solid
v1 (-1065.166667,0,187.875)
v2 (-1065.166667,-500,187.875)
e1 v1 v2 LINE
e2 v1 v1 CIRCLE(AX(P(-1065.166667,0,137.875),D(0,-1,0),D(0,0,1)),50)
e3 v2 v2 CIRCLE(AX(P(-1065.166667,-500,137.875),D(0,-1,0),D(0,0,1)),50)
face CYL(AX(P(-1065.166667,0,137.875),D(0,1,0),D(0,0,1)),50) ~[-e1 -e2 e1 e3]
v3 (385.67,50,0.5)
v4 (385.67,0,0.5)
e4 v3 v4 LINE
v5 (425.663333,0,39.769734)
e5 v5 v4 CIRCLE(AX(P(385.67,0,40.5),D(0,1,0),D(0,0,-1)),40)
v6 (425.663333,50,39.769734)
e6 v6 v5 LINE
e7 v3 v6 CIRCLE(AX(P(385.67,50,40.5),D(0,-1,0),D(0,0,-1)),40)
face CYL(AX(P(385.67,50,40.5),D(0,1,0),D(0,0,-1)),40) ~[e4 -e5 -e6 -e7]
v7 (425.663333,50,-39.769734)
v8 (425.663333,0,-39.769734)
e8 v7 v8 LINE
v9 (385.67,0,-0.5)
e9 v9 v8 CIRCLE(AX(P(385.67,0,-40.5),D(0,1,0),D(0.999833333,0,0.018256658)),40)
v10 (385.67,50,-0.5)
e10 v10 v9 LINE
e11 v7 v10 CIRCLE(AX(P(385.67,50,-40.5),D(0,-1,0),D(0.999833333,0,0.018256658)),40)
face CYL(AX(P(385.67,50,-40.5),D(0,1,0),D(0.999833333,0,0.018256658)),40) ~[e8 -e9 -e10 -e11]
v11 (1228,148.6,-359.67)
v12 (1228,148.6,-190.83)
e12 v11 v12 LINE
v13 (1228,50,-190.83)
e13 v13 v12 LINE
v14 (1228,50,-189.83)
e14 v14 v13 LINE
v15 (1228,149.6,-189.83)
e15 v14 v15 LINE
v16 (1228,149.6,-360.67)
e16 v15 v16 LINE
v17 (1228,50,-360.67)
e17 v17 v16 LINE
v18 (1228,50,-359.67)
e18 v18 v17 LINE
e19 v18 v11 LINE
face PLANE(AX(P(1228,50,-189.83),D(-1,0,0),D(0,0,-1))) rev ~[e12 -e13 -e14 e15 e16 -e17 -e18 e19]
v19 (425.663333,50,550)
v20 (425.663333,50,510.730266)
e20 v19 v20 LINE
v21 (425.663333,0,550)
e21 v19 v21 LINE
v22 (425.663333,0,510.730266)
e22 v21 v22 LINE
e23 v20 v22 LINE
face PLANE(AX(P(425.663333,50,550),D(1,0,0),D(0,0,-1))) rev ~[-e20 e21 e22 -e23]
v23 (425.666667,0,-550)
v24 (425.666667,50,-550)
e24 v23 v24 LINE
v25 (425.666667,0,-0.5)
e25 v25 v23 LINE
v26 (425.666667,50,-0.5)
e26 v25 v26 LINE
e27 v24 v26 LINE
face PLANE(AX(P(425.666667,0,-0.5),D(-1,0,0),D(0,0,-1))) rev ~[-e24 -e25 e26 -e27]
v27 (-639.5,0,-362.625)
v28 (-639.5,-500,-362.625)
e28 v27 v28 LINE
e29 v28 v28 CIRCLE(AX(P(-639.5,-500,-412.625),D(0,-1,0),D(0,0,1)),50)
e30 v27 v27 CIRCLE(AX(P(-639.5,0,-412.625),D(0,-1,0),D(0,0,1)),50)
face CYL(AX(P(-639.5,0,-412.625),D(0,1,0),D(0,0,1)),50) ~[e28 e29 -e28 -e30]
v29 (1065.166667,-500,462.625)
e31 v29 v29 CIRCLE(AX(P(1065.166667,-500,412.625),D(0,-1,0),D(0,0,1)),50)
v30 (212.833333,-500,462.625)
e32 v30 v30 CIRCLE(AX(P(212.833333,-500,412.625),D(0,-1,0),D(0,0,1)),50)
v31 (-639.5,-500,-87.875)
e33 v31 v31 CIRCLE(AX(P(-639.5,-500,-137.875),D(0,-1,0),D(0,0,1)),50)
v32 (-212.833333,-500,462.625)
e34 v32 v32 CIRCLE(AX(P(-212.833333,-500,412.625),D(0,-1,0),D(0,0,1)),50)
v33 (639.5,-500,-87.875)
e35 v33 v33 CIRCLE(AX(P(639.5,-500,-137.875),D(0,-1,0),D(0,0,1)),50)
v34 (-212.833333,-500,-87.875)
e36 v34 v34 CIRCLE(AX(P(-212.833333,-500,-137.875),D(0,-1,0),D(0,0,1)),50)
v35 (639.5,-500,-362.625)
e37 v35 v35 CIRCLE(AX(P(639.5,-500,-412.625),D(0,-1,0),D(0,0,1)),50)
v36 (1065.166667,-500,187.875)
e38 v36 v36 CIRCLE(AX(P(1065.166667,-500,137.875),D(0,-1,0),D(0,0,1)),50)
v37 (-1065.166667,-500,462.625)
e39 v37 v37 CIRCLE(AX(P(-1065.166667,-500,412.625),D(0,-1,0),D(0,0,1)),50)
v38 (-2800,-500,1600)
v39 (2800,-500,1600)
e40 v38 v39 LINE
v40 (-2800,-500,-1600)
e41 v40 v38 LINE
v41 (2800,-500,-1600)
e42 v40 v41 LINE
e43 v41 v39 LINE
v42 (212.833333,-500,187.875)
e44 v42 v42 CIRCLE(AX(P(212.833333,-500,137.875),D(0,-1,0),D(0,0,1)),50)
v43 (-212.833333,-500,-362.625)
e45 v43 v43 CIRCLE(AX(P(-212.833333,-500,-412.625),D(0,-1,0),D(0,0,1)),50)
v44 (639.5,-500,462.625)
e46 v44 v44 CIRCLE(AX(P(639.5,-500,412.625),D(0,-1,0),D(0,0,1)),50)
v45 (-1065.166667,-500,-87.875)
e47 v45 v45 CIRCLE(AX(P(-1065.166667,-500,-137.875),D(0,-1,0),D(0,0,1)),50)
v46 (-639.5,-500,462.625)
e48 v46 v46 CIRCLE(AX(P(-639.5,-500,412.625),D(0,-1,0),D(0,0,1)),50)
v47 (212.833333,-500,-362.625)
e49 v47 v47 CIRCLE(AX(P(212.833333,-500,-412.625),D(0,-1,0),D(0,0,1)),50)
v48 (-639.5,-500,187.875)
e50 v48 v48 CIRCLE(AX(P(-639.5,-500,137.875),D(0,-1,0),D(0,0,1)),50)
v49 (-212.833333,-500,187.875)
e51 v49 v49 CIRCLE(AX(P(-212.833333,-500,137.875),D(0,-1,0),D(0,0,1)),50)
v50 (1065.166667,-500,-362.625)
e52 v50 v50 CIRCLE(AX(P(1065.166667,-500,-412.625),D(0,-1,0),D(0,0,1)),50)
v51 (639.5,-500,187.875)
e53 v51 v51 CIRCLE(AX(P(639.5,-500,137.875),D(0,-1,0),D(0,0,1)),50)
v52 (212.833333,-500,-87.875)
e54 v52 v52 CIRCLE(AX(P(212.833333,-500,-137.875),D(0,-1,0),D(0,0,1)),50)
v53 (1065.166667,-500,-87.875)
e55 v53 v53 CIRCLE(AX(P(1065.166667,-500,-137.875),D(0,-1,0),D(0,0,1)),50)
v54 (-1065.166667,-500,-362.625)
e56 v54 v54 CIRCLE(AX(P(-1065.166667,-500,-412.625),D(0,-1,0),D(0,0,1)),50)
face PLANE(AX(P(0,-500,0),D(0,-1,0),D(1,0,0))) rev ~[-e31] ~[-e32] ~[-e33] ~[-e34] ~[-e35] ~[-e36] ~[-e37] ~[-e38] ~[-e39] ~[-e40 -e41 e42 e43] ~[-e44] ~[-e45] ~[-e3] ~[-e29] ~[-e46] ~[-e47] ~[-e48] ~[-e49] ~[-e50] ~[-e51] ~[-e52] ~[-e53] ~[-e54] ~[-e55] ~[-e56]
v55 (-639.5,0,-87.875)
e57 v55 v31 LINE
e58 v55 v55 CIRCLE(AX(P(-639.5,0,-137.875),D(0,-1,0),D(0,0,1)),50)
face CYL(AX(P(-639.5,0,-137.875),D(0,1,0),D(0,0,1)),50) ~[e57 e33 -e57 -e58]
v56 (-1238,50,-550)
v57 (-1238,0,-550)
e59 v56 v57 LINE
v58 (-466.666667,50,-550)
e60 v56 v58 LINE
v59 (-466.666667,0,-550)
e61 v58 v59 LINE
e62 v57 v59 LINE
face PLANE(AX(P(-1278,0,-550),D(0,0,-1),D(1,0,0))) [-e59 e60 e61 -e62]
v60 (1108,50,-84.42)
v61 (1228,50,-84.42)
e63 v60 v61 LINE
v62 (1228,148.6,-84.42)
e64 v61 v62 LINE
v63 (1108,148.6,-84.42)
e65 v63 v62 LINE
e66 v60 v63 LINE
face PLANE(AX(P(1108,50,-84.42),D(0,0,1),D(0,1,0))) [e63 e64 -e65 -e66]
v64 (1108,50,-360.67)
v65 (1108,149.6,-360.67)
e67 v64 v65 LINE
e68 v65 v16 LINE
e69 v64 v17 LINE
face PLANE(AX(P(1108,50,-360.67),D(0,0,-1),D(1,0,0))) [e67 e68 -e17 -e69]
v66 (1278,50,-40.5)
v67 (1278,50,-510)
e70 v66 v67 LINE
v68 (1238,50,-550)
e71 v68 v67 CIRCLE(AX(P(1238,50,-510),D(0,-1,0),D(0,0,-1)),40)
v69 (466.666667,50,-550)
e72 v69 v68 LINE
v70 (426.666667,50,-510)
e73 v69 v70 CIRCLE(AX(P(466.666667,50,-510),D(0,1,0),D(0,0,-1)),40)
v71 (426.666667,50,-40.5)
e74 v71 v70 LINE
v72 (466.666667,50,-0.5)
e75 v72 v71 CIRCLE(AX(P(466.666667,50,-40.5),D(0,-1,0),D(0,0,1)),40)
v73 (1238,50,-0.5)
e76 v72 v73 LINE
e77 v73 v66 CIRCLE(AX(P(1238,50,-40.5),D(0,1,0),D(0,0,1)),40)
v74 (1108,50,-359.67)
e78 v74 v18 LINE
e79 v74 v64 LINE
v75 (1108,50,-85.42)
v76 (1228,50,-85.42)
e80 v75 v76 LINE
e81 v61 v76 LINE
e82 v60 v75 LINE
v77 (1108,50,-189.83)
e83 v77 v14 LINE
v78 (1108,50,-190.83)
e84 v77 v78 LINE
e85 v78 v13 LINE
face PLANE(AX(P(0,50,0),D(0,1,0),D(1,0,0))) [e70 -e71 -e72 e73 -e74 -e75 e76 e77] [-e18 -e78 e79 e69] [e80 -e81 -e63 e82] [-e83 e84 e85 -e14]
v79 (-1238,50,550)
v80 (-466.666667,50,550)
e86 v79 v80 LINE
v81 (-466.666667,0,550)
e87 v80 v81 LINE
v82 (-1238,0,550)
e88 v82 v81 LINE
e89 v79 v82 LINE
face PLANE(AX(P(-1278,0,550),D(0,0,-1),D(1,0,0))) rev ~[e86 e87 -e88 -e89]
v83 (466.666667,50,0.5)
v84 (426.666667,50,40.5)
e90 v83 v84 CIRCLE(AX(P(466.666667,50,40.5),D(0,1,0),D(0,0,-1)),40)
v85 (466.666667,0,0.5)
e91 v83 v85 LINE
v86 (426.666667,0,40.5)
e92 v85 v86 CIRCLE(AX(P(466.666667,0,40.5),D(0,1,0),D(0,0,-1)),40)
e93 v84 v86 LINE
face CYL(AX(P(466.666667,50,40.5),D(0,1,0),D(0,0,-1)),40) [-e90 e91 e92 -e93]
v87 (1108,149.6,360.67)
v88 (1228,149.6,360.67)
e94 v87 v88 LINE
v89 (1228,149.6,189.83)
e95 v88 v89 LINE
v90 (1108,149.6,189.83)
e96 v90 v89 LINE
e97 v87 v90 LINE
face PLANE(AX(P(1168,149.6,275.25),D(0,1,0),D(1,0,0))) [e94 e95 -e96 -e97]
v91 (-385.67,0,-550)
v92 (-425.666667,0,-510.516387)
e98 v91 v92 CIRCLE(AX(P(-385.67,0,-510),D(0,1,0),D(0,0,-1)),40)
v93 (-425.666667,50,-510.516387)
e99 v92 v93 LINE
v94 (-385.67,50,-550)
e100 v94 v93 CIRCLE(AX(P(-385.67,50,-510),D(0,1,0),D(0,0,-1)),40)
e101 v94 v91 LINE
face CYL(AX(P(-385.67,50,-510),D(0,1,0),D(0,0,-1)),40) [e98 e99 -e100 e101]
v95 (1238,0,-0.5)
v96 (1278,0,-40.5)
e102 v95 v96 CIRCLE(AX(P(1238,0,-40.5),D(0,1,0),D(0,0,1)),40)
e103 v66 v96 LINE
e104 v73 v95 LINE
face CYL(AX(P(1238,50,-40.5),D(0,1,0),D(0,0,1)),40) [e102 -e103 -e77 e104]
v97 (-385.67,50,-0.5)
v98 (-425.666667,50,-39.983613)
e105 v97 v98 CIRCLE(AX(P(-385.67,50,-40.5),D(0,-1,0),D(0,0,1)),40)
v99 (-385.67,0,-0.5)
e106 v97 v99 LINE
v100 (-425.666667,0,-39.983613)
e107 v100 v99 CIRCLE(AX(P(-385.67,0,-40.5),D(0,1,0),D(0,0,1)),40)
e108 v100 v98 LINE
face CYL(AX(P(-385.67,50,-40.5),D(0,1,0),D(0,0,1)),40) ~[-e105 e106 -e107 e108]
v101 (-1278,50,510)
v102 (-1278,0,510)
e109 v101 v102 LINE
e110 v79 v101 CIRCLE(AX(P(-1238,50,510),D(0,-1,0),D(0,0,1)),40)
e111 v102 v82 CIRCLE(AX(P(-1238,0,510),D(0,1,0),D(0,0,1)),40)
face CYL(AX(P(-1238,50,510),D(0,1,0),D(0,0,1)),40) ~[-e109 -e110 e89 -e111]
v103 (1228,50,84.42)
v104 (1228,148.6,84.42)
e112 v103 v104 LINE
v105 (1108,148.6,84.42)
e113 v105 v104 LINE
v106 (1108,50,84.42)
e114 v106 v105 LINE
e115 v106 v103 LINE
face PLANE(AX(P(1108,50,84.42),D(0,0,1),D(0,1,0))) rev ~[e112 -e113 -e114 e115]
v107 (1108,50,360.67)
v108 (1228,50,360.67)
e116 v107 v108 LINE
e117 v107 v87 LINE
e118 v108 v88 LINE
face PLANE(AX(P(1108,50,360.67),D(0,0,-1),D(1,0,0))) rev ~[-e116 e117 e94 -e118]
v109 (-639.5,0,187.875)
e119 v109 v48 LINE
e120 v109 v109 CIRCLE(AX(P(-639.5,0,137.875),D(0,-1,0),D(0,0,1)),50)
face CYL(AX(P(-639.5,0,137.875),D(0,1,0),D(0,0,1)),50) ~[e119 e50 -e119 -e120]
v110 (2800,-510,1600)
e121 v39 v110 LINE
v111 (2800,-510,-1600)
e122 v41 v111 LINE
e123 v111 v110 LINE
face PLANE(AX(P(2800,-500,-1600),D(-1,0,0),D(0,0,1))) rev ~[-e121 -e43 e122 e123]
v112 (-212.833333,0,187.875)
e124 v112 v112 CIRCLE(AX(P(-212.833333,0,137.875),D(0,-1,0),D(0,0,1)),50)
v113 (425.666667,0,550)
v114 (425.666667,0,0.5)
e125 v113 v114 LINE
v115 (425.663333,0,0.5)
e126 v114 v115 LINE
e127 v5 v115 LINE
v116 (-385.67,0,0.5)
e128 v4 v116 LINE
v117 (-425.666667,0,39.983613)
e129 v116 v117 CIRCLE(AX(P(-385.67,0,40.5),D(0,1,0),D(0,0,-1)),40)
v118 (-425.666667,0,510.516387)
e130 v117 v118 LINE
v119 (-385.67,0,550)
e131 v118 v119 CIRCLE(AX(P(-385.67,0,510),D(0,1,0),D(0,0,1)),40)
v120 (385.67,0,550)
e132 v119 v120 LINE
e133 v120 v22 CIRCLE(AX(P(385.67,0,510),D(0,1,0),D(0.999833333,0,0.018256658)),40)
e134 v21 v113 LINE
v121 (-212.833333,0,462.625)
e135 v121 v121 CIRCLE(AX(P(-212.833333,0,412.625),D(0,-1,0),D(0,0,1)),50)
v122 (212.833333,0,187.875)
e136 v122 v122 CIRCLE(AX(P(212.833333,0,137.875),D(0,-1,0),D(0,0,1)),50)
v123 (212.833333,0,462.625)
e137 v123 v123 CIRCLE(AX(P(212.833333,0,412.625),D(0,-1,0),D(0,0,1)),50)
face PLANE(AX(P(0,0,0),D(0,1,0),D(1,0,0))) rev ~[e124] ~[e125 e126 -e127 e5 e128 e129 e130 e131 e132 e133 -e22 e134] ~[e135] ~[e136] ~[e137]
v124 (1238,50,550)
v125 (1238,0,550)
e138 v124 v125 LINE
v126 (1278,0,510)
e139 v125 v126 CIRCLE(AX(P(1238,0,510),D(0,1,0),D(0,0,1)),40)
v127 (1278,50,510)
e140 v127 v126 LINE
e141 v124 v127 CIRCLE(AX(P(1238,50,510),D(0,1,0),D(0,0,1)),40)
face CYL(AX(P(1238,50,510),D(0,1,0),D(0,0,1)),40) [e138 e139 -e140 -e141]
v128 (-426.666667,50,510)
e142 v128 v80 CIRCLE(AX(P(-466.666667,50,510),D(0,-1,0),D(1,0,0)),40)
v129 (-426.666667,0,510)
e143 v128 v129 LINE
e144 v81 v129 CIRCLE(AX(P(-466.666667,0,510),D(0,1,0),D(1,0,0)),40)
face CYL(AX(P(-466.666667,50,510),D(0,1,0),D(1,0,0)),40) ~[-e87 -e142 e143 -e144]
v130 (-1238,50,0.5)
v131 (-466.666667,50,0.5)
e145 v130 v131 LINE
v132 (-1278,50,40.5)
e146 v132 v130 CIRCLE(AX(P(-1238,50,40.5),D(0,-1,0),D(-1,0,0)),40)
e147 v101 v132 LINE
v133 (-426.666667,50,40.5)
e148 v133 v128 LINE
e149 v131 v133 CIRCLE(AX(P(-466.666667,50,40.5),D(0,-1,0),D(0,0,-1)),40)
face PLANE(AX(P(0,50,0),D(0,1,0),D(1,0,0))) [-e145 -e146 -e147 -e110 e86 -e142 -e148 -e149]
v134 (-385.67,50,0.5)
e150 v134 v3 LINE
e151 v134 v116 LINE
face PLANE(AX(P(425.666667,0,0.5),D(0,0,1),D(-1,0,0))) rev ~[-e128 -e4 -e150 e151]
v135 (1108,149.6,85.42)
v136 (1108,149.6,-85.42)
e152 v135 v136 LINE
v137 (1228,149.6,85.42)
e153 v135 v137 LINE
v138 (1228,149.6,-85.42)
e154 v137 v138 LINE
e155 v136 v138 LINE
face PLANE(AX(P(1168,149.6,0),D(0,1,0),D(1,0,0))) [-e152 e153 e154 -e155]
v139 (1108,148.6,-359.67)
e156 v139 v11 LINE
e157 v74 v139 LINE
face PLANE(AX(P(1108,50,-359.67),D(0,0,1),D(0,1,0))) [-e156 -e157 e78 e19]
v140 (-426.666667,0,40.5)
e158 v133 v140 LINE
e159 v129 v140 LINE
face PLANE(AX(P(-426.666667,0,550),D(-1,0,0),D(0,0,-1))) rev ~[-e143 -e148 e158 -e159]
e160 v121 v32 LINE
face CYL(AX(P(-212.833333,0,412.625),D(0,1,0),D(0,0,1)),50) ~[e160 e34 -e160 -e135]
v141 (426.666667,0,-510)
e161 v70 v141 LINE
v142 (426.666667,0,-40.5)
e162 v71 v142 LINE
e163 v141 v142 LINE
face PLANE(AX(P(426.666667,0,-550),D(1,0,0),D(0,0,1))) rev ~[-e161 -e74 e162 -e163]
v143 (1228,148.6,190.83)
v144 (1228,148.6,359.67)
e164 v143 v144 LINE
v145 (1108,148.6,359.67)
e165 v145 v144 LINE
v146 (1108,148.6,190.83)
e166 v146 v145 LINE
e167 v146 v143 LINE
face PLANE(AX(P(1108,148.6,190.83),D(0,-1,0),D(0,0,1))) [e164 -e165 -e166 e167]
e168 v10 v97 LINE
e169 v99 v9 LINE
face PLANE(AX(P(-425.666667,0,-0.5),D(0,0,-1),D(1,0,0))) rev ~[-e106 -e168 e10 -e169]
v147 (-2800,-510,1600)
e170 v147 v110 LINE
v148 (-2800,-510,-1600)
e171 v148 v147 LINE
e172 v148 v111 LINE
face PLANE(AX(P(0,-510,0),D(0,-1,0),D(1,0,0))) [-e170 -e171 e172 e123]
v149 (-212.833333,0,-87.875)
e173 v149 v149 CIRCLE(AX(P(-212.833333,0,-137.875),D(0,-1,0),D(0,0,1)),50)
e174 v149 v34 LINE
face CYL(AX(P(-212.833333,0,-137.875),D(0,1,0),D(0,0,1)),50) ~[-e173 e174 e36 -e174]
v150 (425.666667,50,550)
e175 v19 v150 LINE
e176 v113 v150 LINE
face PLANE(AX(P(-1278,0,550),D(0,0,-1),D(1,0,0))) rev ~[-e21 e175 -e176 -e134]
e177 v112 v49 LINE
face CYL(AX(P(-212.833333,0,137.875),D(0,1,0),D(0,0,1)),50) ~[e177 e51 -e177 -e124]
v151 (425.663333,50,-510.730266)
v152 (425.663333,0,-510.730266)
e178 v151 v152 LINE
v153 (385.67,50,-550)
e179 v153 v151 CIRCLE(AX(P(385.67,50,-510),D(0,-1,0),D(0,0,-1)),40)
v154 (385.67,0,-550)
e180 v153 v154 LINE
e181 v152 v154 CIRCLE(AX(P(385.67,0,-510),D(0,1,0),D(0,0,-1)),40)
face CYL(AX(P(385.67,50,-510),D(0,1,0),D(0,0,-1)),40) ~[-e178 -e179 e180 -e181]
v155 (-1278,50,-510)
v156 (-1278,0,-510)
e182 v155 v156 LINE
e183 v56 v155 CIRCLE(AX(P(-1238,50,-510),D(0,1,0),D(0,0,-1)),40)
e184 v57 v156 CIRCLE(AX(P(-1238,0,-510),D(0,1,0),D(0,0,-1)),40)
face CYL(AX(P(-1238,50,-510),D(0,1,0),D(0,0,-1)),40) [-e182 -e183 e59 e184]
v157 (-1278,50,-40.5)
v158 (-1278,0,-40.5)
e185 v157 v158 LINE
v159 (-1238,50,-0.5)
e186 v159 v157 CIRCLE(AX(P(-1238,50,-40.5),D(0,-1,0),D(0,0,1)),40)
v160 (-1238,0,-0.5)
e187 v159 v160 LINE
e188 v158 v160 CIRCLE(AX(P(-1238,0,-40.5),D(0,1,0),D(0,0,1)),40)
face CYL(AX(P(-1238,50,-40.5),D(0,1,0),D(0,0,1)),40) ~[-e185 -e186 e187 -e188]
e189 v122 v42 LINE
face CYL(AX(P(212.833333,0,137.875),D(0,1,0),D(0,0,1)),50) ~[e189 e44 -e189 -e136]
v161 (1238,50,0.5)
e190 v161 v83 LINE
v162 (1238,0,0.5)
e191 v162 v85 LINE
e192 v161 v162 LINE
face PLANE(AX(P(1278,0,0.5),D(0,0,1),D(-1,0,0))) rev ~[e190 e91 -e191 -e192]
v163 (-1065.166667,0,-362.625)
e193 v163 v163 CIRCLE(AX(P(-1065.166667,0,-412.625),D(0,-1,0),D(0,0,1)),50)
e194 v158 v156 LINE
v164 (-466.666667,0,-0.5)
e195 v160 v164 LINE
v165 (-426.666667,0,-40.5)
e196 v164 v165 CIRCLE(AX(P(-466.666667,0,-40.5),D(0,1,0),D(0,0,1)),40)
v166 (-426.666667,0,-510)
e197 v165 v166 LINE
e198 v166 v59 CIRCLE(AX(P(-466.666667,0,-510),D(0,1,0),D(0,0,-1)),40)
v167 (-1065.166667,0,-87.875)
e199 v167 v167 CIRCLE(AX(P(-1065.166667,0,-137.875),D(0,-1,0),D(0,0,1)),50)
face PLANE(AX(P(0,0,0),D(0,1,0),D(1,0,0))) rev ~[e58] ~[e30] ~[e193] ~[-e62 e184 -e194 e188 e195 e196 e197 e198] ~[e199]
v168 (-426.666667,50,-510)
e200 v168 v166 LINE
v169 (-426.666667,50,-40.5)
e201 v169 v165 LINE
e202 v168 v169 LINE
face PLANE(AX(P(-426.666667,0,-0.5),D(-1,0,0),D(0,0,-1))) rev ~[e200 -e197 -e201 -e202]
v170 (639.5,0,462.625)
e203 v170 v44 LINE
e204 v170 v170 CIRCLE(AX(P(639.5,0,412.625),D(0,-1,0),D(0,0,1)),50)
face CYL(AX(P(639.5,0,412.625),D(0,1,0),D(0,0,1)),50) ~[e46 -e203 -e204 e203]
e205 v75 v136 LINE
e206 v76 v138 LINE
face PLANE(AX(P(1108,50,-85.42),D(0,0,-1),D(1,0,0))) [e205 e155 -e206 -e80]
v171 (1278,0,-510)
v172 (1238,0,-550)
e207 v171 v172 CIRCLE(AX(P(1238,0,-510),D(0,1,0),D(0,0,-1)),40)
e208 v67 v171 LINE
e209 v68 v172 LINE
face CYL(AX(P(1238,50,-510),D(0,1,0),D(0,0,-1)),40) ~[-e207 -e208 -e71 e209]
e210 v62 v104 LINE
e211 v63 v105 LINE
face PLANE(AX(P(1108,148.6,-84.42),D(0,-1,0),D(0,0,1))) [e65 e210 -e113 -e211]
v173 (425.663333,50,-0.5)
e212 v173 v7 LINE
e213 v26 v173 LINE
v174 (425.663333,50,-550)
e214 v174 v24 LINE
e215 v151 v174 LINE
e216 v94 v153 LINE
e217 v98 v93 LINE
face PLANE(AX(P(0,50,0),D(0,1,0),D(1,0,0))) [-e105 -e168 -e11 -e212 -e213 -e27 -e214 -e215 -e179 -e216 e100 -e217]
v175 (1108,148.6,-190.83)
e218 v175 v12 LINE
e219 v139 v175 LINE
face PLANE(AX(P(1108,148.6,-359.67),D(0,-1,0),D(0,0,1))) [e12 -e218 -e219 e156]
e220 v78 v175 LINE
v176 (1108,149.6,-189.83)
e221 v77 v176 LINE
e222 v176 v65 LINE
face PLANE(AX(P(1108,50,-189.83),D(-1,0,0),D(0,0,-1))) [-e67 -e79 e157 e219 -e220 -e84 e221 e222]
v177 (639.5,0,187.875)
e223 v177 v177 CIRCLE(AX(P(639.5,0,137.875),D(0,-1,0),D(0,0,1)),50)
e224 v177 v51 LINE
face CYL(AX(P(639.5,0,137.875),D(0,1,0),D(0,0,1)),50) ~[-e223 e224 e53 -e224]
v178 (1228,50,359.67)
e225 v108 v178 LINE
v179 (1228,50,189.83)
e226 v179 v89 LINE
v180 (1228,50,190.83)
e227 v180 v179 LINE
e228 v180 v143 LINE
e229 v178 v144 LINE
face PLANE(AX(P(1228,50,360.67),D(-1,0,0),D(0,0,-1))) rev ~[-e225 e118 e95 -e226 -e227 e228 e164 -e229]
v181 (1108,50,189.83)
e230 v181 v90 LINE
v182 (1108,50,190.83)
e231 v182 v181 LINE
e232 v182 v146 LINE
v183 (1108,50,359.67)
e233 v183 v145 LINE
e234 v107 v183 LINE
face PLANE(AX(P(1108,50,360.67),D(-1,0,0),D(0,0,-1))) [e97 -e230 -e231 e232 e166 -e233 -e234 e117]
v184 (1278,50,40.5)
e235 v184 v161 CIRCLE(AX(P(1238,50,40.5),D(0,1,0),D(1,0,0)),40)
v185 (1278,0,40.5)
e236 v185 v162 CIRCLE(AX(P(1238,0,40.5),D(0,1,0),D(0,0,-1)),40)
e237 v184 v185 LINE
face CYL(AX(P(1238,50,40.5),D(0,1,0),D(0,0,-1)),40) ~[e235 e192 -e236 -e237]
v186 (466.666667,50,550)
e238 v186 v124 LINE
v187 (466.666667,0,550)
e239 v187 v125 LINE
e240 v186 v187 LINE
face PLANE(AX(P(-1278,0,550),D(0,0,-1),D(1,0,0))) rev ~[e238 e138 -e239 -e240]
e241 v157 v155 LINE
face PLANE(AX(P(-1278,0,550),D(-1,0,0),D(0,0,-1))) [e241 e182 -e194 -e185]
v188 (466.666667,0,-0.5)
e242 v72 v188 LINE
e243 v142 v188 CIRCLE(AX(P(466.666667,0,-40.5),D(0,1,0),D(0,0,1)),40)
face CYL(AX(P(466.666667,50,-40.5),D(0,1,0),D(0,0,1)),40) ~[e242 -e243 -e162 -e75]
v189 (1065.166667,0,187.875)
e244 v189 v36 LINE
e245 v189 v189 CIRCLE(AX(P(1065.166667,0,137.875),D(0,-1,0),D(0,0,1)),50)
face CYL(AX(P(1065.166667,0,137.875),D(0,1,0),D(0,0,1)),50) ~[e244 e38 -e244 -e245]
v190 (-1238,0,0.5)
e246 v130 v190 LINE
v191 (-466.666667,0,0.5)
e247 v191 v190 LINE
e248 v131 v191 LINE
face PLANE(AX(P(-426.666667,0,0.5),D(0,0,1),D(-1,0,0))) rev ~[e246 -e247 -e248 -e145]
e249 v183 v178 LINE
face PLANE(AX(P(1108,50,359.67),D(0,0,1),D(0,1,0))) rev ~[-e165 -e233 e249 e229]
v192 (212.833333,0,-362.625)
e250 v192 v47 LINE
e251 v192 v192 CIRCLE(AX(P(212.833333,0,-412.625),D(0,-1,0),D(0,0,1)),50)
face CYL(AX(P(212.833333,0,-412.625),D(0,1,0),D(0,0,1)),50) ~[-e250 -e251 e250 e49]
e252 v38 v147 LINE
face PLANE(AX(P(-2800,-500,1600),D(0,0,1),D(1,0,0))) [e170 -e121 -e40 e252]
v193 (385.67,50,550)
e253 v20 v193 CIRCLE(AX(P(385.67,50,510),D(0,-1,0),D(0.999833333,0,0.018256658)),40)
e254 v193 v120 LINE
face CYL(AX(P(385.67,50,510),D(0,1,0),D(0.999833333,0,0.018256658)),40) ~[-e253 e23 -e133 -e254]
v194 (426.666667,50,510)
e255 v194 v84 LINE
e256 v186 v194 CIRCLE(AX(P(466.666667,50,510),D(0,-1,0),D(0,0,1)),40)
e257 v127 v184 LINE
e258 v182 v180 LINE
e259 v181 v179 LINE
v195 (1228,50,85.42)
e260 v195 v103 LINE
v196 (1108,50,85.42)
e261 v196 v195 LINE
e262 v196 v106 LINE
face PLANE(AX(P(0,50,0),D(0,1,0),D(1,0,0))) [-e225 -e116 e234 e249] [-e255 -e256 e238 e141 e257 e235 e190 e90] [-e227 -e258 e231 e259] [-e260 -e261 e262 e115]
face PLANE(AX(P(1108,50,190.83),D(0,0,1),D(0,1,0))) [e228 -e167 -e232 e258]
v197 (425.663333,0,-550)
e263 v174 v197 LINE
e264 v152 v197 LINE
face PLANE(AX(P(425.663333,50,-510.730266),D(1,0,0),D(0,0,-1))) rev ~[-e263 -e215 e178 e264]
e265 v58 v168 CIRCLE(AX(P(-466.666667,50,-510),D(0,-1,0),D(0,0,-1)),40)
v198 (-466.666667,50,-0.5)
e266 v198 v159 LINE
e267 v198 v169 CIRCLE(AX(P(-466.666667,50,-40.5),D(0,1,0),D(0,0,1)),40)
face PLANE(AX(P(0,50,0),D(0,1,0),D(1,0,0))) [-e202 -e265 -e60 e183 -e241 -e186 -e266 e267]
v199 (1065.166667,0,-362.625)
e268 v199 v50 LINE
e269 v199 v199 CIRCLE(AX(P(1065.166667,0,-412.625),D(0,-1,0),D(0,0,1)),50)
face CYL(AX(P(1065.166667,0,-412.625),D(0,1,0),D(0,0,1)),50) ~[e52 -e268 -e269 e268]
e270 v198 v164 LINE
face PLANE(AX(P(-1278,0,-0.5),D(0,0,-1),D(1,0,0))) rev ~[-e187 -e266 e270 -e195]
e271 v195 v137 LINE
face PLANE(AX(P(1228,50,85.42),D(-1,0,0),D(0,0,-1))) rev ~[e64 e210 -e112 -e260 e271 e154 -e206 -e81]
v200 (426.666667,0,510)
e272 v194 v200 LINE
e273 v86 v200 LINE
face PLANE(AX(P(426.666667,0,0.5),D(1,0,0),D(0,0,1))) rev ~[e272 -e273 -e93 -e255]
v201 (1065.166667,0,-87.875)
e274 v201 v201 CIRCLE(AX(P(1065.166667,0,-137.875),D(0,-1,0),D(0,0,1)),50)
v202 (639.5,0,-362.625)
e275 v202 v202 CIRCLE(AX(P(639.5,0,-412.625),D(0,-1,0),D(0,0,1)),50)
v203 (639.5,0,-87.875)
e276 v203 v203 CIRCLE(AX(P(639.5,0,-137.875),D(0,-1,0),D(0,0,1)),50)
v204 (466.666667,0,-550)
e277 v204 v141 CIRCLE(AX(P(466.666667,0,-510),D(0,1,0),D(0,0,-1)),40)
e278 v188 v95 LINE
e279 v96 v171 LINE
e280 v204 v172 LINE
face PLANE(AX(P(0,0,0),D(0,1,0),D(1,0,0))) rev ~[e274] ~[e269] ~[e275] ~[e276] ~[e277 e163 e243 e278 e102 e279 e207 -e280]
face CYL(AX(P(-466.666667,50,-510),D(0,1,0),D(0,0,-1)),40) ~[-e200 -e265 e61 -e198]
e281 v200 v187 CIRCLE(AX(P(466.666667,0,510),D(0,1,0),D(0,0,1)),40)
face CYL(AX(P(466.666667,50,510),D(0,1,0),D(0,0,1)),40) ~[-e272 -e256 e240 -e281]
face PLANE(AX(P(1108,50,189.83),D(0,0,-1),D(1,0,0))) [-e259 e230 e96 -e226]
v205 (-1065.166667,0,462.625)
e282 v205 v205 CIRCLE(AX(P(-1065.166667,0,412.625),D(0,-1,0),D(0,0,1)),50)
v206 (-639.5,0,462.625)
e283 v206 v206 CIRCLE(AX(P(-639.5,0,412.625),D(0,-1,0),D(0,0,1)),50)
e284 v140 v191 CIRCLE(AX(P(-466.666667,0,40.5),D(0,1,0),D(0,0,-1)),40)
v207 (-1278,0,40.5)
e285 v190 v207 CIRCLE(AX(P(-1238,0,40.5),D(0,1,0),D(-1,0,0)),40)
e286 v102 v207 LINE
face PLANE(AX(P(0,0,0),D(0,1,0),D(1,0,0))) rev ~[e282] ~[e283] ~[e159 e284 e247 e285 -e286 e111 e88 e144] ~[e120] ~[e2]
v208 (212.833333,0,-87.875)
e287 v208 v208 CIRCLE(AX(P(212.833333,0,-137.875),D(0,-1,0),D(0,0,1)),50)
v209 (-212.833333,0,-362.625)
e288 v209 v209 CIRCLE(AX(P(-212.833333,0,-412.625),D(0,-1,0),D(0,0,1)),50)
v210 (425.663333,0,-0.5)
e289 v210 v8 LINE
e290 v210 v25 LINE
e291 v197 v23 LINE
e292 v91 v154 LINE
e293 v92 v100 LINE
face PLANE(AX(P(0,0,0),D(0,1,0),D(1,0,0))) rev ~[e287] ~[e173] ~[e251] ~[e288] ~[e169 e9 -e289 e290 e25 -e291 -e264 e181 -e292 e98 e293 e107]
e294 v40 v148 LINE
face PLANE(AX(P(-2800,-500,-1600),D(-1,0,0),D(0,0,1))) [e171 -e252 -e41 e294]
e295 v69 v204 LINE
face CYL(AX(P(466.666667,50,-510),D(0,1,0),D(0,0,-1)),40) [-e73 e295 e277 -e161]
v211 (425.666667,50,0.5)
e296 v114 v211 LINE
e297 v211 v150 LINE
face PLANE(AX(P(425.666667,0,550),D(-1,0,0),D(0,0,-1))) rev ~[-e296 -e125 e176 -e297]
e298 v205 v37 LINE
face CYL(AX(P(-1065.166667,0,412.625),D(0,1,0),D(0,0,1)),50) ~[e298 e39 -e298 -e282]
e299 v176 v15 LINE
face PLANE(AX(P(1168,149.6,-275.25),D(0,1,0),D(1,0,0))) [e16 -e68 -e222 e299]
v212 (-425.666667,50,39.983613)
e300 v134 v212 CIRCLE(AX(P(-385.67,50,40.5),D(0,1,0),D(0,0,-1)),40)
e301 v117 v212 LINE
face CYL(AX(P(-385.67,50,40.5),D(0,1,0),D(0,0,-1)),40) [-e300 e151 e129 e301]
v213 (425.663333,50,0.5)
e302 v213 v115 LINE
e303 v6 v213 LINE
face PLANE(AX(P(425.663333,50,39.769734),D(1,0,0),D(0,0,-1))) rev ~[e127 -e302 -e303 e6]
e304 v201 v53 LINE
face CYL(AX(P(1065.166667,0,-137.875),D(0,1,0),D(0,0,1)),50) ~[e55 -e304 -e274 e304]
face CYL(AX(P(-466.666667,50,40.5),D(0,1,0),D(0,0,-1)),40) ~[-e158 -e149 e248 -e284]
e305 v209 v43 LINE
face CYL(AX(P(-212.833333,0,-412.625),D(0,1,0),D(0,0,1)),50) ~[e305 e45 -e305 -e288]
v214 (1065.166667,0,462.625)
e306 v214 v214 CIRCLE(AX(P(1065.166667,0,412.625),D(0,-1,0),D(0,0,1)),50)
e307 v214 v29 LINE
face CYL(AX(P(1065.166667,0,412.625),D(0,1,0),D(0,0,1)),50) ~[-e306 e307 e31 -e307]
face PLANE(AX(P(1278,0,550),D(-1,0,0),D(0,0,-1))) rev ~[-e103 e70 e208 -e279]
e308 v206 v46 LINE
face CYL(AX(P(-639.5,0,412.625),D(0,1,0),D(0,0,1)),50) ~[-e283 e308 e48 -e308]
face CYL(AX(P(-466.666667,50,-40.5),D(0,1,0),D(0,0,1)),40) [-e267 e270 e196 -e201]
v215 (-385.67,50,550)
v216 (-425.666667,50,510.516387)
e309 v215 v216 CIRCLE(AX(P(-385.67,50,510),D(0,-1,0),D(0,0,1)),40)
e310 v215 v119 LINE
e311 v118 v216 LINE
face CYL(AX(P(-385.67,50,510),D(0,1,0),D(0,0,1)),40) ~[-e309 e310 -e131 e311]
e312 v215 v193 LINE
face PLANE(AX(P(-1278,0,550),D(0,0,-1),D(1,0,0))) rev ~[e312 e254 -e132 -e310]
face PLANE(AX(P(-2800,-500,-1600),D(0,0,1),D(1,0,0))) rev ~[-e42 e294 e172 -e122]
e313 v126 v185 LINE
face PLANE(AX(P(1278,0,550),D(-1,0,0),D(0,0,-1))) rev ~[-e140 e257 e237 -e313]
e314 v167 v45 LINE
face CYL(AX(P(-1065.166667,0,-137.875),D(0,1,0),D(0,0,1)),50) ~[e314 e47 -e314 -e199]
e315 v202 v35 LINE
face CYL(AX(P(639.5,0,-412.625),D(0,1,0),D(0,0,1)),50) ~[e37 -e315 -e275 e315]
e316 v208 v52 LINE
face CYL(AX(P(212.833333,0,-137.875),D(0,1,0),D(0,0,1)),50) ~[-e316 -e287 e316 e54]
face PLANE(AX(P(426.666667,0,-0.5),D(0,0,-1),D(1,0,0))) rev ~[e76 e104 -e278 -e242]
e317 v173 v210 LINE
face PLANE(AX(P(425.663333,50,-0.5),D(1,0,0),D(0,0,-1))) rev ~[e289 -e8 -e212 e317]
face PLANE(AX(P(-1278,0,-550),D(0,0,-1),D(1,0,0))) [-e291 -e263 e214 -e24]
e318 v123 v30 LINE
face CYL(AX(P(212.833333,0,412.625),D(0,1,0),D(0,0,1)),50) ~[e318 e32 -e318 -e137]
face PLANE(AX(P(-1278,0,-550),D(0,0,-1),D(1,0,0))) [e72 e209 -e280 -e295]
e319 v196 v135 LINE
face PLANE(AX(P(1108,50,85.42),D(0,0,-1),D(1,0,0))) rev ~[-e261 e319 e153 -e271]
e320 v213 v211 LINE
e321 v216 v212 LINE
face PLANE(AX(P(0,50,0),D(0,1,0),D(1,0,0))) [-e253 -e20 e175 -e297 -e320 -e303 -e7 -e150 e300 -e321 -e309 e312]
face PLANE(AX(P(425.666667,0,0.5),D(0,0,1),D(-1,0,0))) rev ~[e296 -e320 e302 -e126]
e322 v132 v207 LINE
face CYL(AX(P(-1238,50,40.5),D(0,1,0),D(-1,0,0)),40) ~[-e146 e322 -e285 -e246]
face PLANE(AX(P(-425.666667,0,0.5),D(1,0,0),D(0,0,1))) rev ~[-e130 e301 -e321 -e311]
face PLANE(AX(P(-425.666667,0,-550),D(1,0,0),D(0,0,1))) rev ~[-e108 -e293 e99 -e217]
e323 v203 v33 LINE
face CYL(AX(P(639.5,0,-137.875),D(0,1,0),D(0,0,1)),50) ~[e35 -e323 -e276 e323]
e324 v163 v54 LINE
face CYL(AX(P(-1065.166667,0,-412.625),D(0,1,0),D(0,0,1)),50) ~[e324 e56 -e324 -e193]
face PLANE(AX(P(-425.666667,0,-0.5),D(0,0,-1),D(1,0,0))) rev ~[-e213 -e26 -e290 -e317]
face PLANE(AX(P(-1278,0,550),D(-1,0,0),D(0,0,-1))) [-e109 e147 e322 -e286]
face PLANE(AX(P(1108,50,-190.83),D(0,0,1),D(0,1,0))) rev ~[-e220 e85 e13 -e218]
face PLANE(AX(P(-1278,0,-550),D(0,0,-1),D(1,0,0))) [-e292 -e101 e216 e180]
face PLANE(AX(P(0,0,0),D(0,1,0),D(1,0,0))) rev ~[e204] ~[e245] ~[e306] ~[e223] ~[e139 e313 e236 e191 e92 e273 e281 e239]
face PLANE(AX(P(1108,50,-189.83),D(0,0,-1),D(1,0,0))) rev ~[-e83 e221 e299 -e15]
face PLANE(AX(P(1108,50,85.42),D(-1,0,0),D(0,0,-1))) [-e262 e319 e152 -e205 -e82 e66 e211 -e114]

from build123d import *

# Parameters (mm, degrees)
SKETCH_1_W          = 2556
SKETCH_1_H          = 1100
EXTRUDE_1_DEPTH     = 50
CUT_EXTRUDE_1_DEPTH = 1393.222683338
SKETCH_3_R          = 50
EXTRUDE_2_DEPTH     = 500
CUT_EXTRUDE_3_DEPTH = 1497.089569511
SKETCH_5_W          = 5600
SKETCH_5_H          = 3200
EXTRUDE_3_DEPTH     = 10
SKETCH_6_W          = 120
SKETCH_6_H          = 170.84
EXTRUDE_4_DEPTH     = 99.6
SKETCH_7_W          = 168.84
SKETCH_7_H          = 98.6
CUT_EXTRUDE_4_DEPTH = 139.6


with BuildPart() as part:
    # 스케치1 → 보스-돌출1 (new body)
    with BuildSketch(Plane(origin=(0, 0, 0), x_dir=(1, 0, 0), z_dir=(0, 1, 0))):
        Rectangle(SKETCH_1_W, SKETCH_1_H)
    extrude(amount=EXTRUDE_1_DEPTH)

    # 스케치2 → 컷-돌출1 (cut, through all)
    with BuildSketch(Plane.XZ):
        Polygon((-426.666666667, 550), (-426.666666667, 0.5), (-1278, 0.5), (-1278, -0.5), (-426.666666667, -0.5), (-426.666666667, -550), (-425.666666667, -550), (-425.666666667, -0.5), (425.666666667, -0.5), (425.666666667, -550), (426.666666667, -550), (426.666666667, -0.5), (1278, -0.5), (1278, 0.5), (426.666666667, 0.5), (426.666666667, 550), (425.666666667, 550), (425.666666667, 0.5), (-425.666666667, 0.5), (-425.666666667, 550), align=None)
    extrude(amount=-CUT_EXTRUDE_1_DEPTH, mode=Mode.SUBTRACT)


with BuildPart() as cut_extrude_1_piece_1:
    # of the separate pieces the step leaves, piece 1, a body of its own (cut_extrude_1_pieces)
    add(part.part.solids().sort_by_distance((-1278, 0, -550))[0])



with BuildPart() as cut_extrude_1_piece_2:
    # of the separate pieces the step leaves, piece 2, a body of its own (cut_extrude_1_pieces)
    add(part.part.solids().sort_by_distance((-425.666666667, 0, -550))[0])


with BuildPart() as cut_extrude_1_piece_3:
    # of the separate pieces the step leaves, piece 3, a body of its own (cut_extrude_1_pieces)
    add(part.part.solids().sort_by_distance((-1278, 0, 550))[0])


with BuildPart() as cut_extrude_1_piece_4:
    # of the separate pieces the step leaves, piece 4, a body of its own (cut_extrude_1_pieces)
    add(part.part.solids().sort_by_distance((425.666666667, 0, 550))[0])


with BuildPart() as cut_extrude_1_piece_5:
    # of the separate pieces the step leaves, piece 5, a body of its own (cut_extrude_1_pieces)
    add(part.part.solids().sort_by_distance((426.666666667, 0, -550))[0])


with BuildPart() as cut_extrude_1_piece_6:
    # of the separate pieces the step leaves, piece 6, a body of its own (cut_extrude_1_pieces)
    add(part.part.solids().sort_by_distance((1278, 0, 0.5))[0])


with BuildPart() as cut_extrude_1_piece_1_1:
    add(cut_extrude_1_piece_1.part)

    add(cut_extrude_1_piece_2.part)  # 보스-돌출2 merges 컷-돌출1 piece 2

    add(cut_extrude_1_piece_3.part)  # 보스-돌출2 merges 컷-돌출1 piece 3

    add(cut_extrude_1_piece_4.part)  # 보스-돌출2 merges 컷-돌출1 piece 4

    add(cut_extrude_1_piece_5.part)  # 보스-돌출2 merges 컷-돌출1 piece 5

    add(cut_extrude_1_piece_6.part)  # 보스-돌출2 merges 컷-돌출1 piece 6
    # 스케치3 → 보스-돌출2 (add)
    with BuildSketch(Plane.XZ):
        with Locations(Location((-1065.166666667, -137.875, 0), (0, 0, 90))):
            Circle(SKETCH_3_R)
        with Locations(Location((-639.5, -137.875, 0), (0, 0, 90))):
            Circle(SKETCH_3_R)
        with Locations(Location((-639.5, -412.625, 0), (0, 0, 90))):
            Circle(SKETCH_3_R)
        with Locations(Location((-1065.166666667, -412.625, 0), (0, 0, 90))):
            Circle(SKETCH_3_R)
        with Locations(Location((-212.833333333, -137.875, 0), (0, 0, 90))):
            Circle(SKETCH_3_R)
        with Locations(Location((212.833333333, -137.875, 0), (0, 0, 90))):
            Circle(SKETCH_3_R)
        with Locations(Location((-212.833333333, -412.625, 0), (0, 0, 90))):
            Circle(SKETCH_3_R)
        with Locations(Location((212.833333333, -412.625, 0), (0, 0, 90))):
            Circle(SKETCH_3_R)
        with Locations(Location((639.5, -137.875, 0), (0, 0, 90))):
            Circle(SKETCH_3_R)
        with Locations(Location((1065.166666667, -137.875, 0), (0, 0, 90))):
            Circle(SKETCH_3_R)
        with Locations(Location((639.5, -412.625, 0), (0, 0, 90))):
            Circle(SKETCH_3_R)
        with Locations(Location((1065.166666667, -412.625, 0), (0, 0, 90))):
            Circle(SKETCH_3_R)
        with Locations(Location((-212.833333333, 412.625, 0), (0, 0, 90))):
            Circle(SKETCH_3_R)
        with Locations(Location((212.833333333, 412.625, 0), (0, 0, 90))):
            Circle(SKETCH_3_R)
        with Locations(Location((-212.833333333, 137.875, 0), (0, 0, 90))):
            Circle(SKETCH_3_R)
        with Locations(Location((212.833333333, 137.875, 0), (0, 0, 90))):
            Circle(SKETCH_3_R)
        with Locations(Location((639.5, 412.625, 0), (0, 0, 90))):
            Circle(SKETCH_3_R)
        with Locations(Location((1065.166666667, 412.625, 0), (0, 0, 90))):
            Circle(SKETCH_3_R)
        with Locations(Location((639.5, 137.875, 0), (0, 0, 90))):
            Circle(SKETCH_3_R)
        with Locations(Location((1065.166666667, 137.875, 0), (0, 0, 90))):
            Circle(SKETCH_3_R)
        with Locations(Location((-1065.166666667, 412.625, 0), (0, 0, 90))):
            Circle(SKETCH_3_R)
        with Locations(Location((-639.5, 412.625, 0), (0, 0, 90))):
            Circle(SKETCH_3_R)
        with Locations(Location((-1065.166666667, 137.875, 0), (0, 0, 90))):
            Circle(SKETCH_3_R)
        with Locations(Location((-639.5, 137.875, 0), (0, 0, 90))):
            Circle(SKETCH_3_R)
    extrude(amount=EXTRUDE_2_DEPTH)

    # 스케치4 → 컷-돌출3 (cut, through all)
    with BuildSketch(Plane(origin=(0, 50, 0), x_dir=(1, 0, 0), z_dir=(0, 1, 0))):
        with BuildLine():
            ThreePointArc((-385.67, 550), (-413.954271247, 538.284271247), (-425.67, 510))
            Line((-425.67, 510), (-425.67, 550))
            Line((-425.67, 550), (-385.67, 550))
        make_face()
        with BuildLine():
            ThreePointArc((466.666666667, 550), (438.382395419, 538.284271247), (426.666666667, 510))
            Line((426.666666667, 510), (426.666666667, 550))
            Line((426.666666667, 550), (466.666666667, 550))
        make_face()
        with BuildLine():
            Line((425.663333333, 510.730266314), (425.663333333, 550))
            Line((425.663333333, 550), (385.67, 550))
            ThreePointArc((385.67, 550), (413.694893822, 538.541291601), (425.663333333, 510.730266314))
        make_face()
        with BuildLine():
            Line((-426.666666667, 550), (-466.666666667, 550))
            ThreePointArc((-466.666666667, 550), (-438.382395419, 538.284271247), (-426.666666667, 510))
            Line((-426.666666667, 510), (-426.666666667, 550))
        make_face()
        with BuildLine():
            ThreePointArc((-1238, 550), (-1266.284271247, 538.284271247), (-1278, 510))
            Line((-1278, 510), (-1278, 550))
            Line((-1278, 550), (-1238, 550))
        make_face()
        with BuildLine():
            Line((1278, 550), (1238, 550))
            ThreePointArc((1238, 550), (1266.284271247, 538.284271247), (1278, 510))
            Line((1278, 510), (1278, 550))
        make_face()
        with BuildLine():
            Line((-1278, -0.5), (-1278, -40.5))
            ThreePointArc((-1278, -40.5), (-1266.284271247, -12.215728753), (-1238, -0.5))
            Line((-1238, -0.5), (-1278, -0.5))
        make_face()
        with BuildLine():
            Line((-1278, 0.5), (-1238, 0.5))
            ThreePointArc((-1238, 0.5), (-1266.284271247, 12.215728753), (-1278, 40.5))
            Line((-1278, 40.5), (-1278, 0.5))
        make_face()
        with BuildLine():
            Line((-426.666666667, -0.5), (-466.666666667, -0.5))
            ThreePointArc((-466.666666667, -0.5), (-438.382395419, -12.215728753), (-426.666666667, -40.5))
            Line((-426.666666667, -40.5), (-426.666666667, -0.5))
        make_face()
        with BuildLine():
            ThreePointArc((-466.666666667, 0.5), (-438.382395419, 12.215728753), (-426.666666667, 40.5))
            Line((-426.666666667, 40.5), (-426.666666667, 0.5))
            Line((-426.666666667, 0.5), (-466.666666667, 0.5))
        make_face()
        with BuildLine():
            Line((-425.67, 0.5), (-385.67, 0.5))
            ThreePointArc((-385.67, 0.5), (-413.954271247, 12.215728753), (-425.67, 40.5))
            Line((-425.67, 40.5), (-425.67, 0.5))
        make_face()
        with BuildLine():
            ThreePointArc((-385.67, -0.5), (-413.954271247, -12.215728753), (-425.67, -40.5))
            Line((-425.67, -40.5), (-425.67, -0.5))
            Line((-425.67, -0.5), (-385.67, -0.5))
        make_face()
        with BuildLine():
            Line((425.663333333, 0.5), (425.663333333, 39.769733686))
            ThreePointArc((425.663333333, 39.769733686), (413.694893822, 11.958708399), (385.67, 0.5))
            Line((385.67, 0.5), (425.663333333, 0.5))
        make_face()
        with BuildLine():
            Line((426.666666667, 0.5), (466.666666667, 0.5))
            ThreePointArc((466.666666667, 0.5), (438.382395419, 12.215728753), (426.666666667, 40.5))
            Line((426.666666667, 40.5), (426.666666667, 0.5))
        make_face()
        with BuildLine():
            ThreePointArc((466.666666667, -0.5), (438.382395419, -12.215728753), (426.666666667, -40.5))
            Line((426.666666667, -40.5), (426.666666667, -0.5))
            Line((426.666666667, -0.5), (466.666666667, -0.5))
        make_face()
        with BuildLine():
            Line((425.663333333, -39.769733686), (425.663333333, -0.5))
            Line((425.663333333, -0.5), (385.67, -0.5))
            ThreePointArc((385.67, -0.5), (413.694893822, -11.958708399), (425.663333333, -39.769733686))
        make_face()
        with BuildLine():
            ThreePointArc((1238, 0.5), (1266.284271247, 12.215728753), (1278, 40.5))
            Line((1278, 40.5), (1278, 0.5))
            Line((1278, 0.5), (1238, 0.5))
        make_face()
        with BuildLine():
            Line((1278, -0.5), (1238, -0.5))
            ThreePointArc((1238, -0.5), (1266.284271247, -12.215728753), (1278, -40.5))
            Line((1278, -40.5), (1278, -0.5))
        make_face()
        with BuildLine():
            ThreePointArc((1238, -550), (1266.284271247, -538.284271247), (1278, -510))
            Line((1278, -510), (1278, -550))
            Line((1278, -550), (1238, -550))
        make_face()
        with BuildLine():
            Line((426.666666667, -550), (466.666666667, -550))
            ThreePointArc((466.666666667, -550), (438.382395419, -538.284271247), (426.666666667, -510))
            Line((426.666666667, -510), (426.666666667, -550))
        make_face()
        with BuildLine():
            Line((425.663333333, -550), (425.663333333, -510.730266314))
            ThreePointArc((425.663333333, -510.730266314), (413.694893822, -538.541291601), (385.67, -550))
            Line((385.67, -550), (425.663333333, -550))
        make_face()
        with BuildLine():
            ThreePointArc((-426.666666667, -510), (-438.382395419, -538.284271247), (-466.666666667, -550))
            Line((-466.666666667, -550), (-426.666666667, -550))
            Line((-426.666666667, -550), (-426.666666667, -510))
        make_face()
        with BuildLine():
            Line((-425.67, -550), (-385.67, -550))
            ThreePointArc((-385.67, -550), (-413.954271247, -538.284271247), (-425.67, -510))
            Line((-425.67, -510), (-425.67, -550))
        make_face()
        with BuildLine():
            ThreePointArc((-1238, -550), (-1266.284271247, -538.284271247), (-1278, -510))
            Line((-1278, -510), (-1278, -550))
            Line((-1278, -550), (-1238, -550))
        make_face()
    extrude(amount=-CUT_EXTRUDE_3_DEPTH, mode=Mode.SUBTRACT)

    # 스케치5 → 보스-돌출3 (add)
    with BuildSketch(Plane.XZ.offset(500)):
        Rectangle(SKETCH_5_W, SKETCH_5_H)
    extrude(amount=EXTRUDE_3_DEPTH)

    # 스케치6 → 보스-돌출4 (add)
    with BuildSketch(Plane(origin=(0, 50, 0), x_dir=(1, 0, 0), z_dir=(0, 1, 0))):
        with Locations((1168, 275.25)):
            Rectangle(SKETCH_6_W, SKETCH_6_H)
        with Locations((1168, -275.25)):
            Rectangle(SKETCH_6_W, SKETCH_6_H)
        with Locations((1168, 0)):
            Rectangle(SKETCH_6_W, SKETCH_6_H)
    extrude(amount=EXTRUDE_4_DEPTH)

    # 스케치7 → 컷-돌출4 (cut)
    with BuildSketch(Plane.ZY.offset(-1108)):
        with Locations((-275.25, 99.3)):
            Rectangle(SKETCH_7_W, SKETCH_7_H)
        with Locations((0, 99.3)):
            Rectangle(SKETCH_7_W, SKETCH_7_H)
        with Locations((275.25, 99.3)):
            Rectangle(SKETCH_7_W, SKETCH_7_H)
    extrude(amount=-CUT_EXTRUDE_4_DEPTH, mode=Mode.SUBTRACT)


solid = cut_extrude_1_piece_1_1.part
